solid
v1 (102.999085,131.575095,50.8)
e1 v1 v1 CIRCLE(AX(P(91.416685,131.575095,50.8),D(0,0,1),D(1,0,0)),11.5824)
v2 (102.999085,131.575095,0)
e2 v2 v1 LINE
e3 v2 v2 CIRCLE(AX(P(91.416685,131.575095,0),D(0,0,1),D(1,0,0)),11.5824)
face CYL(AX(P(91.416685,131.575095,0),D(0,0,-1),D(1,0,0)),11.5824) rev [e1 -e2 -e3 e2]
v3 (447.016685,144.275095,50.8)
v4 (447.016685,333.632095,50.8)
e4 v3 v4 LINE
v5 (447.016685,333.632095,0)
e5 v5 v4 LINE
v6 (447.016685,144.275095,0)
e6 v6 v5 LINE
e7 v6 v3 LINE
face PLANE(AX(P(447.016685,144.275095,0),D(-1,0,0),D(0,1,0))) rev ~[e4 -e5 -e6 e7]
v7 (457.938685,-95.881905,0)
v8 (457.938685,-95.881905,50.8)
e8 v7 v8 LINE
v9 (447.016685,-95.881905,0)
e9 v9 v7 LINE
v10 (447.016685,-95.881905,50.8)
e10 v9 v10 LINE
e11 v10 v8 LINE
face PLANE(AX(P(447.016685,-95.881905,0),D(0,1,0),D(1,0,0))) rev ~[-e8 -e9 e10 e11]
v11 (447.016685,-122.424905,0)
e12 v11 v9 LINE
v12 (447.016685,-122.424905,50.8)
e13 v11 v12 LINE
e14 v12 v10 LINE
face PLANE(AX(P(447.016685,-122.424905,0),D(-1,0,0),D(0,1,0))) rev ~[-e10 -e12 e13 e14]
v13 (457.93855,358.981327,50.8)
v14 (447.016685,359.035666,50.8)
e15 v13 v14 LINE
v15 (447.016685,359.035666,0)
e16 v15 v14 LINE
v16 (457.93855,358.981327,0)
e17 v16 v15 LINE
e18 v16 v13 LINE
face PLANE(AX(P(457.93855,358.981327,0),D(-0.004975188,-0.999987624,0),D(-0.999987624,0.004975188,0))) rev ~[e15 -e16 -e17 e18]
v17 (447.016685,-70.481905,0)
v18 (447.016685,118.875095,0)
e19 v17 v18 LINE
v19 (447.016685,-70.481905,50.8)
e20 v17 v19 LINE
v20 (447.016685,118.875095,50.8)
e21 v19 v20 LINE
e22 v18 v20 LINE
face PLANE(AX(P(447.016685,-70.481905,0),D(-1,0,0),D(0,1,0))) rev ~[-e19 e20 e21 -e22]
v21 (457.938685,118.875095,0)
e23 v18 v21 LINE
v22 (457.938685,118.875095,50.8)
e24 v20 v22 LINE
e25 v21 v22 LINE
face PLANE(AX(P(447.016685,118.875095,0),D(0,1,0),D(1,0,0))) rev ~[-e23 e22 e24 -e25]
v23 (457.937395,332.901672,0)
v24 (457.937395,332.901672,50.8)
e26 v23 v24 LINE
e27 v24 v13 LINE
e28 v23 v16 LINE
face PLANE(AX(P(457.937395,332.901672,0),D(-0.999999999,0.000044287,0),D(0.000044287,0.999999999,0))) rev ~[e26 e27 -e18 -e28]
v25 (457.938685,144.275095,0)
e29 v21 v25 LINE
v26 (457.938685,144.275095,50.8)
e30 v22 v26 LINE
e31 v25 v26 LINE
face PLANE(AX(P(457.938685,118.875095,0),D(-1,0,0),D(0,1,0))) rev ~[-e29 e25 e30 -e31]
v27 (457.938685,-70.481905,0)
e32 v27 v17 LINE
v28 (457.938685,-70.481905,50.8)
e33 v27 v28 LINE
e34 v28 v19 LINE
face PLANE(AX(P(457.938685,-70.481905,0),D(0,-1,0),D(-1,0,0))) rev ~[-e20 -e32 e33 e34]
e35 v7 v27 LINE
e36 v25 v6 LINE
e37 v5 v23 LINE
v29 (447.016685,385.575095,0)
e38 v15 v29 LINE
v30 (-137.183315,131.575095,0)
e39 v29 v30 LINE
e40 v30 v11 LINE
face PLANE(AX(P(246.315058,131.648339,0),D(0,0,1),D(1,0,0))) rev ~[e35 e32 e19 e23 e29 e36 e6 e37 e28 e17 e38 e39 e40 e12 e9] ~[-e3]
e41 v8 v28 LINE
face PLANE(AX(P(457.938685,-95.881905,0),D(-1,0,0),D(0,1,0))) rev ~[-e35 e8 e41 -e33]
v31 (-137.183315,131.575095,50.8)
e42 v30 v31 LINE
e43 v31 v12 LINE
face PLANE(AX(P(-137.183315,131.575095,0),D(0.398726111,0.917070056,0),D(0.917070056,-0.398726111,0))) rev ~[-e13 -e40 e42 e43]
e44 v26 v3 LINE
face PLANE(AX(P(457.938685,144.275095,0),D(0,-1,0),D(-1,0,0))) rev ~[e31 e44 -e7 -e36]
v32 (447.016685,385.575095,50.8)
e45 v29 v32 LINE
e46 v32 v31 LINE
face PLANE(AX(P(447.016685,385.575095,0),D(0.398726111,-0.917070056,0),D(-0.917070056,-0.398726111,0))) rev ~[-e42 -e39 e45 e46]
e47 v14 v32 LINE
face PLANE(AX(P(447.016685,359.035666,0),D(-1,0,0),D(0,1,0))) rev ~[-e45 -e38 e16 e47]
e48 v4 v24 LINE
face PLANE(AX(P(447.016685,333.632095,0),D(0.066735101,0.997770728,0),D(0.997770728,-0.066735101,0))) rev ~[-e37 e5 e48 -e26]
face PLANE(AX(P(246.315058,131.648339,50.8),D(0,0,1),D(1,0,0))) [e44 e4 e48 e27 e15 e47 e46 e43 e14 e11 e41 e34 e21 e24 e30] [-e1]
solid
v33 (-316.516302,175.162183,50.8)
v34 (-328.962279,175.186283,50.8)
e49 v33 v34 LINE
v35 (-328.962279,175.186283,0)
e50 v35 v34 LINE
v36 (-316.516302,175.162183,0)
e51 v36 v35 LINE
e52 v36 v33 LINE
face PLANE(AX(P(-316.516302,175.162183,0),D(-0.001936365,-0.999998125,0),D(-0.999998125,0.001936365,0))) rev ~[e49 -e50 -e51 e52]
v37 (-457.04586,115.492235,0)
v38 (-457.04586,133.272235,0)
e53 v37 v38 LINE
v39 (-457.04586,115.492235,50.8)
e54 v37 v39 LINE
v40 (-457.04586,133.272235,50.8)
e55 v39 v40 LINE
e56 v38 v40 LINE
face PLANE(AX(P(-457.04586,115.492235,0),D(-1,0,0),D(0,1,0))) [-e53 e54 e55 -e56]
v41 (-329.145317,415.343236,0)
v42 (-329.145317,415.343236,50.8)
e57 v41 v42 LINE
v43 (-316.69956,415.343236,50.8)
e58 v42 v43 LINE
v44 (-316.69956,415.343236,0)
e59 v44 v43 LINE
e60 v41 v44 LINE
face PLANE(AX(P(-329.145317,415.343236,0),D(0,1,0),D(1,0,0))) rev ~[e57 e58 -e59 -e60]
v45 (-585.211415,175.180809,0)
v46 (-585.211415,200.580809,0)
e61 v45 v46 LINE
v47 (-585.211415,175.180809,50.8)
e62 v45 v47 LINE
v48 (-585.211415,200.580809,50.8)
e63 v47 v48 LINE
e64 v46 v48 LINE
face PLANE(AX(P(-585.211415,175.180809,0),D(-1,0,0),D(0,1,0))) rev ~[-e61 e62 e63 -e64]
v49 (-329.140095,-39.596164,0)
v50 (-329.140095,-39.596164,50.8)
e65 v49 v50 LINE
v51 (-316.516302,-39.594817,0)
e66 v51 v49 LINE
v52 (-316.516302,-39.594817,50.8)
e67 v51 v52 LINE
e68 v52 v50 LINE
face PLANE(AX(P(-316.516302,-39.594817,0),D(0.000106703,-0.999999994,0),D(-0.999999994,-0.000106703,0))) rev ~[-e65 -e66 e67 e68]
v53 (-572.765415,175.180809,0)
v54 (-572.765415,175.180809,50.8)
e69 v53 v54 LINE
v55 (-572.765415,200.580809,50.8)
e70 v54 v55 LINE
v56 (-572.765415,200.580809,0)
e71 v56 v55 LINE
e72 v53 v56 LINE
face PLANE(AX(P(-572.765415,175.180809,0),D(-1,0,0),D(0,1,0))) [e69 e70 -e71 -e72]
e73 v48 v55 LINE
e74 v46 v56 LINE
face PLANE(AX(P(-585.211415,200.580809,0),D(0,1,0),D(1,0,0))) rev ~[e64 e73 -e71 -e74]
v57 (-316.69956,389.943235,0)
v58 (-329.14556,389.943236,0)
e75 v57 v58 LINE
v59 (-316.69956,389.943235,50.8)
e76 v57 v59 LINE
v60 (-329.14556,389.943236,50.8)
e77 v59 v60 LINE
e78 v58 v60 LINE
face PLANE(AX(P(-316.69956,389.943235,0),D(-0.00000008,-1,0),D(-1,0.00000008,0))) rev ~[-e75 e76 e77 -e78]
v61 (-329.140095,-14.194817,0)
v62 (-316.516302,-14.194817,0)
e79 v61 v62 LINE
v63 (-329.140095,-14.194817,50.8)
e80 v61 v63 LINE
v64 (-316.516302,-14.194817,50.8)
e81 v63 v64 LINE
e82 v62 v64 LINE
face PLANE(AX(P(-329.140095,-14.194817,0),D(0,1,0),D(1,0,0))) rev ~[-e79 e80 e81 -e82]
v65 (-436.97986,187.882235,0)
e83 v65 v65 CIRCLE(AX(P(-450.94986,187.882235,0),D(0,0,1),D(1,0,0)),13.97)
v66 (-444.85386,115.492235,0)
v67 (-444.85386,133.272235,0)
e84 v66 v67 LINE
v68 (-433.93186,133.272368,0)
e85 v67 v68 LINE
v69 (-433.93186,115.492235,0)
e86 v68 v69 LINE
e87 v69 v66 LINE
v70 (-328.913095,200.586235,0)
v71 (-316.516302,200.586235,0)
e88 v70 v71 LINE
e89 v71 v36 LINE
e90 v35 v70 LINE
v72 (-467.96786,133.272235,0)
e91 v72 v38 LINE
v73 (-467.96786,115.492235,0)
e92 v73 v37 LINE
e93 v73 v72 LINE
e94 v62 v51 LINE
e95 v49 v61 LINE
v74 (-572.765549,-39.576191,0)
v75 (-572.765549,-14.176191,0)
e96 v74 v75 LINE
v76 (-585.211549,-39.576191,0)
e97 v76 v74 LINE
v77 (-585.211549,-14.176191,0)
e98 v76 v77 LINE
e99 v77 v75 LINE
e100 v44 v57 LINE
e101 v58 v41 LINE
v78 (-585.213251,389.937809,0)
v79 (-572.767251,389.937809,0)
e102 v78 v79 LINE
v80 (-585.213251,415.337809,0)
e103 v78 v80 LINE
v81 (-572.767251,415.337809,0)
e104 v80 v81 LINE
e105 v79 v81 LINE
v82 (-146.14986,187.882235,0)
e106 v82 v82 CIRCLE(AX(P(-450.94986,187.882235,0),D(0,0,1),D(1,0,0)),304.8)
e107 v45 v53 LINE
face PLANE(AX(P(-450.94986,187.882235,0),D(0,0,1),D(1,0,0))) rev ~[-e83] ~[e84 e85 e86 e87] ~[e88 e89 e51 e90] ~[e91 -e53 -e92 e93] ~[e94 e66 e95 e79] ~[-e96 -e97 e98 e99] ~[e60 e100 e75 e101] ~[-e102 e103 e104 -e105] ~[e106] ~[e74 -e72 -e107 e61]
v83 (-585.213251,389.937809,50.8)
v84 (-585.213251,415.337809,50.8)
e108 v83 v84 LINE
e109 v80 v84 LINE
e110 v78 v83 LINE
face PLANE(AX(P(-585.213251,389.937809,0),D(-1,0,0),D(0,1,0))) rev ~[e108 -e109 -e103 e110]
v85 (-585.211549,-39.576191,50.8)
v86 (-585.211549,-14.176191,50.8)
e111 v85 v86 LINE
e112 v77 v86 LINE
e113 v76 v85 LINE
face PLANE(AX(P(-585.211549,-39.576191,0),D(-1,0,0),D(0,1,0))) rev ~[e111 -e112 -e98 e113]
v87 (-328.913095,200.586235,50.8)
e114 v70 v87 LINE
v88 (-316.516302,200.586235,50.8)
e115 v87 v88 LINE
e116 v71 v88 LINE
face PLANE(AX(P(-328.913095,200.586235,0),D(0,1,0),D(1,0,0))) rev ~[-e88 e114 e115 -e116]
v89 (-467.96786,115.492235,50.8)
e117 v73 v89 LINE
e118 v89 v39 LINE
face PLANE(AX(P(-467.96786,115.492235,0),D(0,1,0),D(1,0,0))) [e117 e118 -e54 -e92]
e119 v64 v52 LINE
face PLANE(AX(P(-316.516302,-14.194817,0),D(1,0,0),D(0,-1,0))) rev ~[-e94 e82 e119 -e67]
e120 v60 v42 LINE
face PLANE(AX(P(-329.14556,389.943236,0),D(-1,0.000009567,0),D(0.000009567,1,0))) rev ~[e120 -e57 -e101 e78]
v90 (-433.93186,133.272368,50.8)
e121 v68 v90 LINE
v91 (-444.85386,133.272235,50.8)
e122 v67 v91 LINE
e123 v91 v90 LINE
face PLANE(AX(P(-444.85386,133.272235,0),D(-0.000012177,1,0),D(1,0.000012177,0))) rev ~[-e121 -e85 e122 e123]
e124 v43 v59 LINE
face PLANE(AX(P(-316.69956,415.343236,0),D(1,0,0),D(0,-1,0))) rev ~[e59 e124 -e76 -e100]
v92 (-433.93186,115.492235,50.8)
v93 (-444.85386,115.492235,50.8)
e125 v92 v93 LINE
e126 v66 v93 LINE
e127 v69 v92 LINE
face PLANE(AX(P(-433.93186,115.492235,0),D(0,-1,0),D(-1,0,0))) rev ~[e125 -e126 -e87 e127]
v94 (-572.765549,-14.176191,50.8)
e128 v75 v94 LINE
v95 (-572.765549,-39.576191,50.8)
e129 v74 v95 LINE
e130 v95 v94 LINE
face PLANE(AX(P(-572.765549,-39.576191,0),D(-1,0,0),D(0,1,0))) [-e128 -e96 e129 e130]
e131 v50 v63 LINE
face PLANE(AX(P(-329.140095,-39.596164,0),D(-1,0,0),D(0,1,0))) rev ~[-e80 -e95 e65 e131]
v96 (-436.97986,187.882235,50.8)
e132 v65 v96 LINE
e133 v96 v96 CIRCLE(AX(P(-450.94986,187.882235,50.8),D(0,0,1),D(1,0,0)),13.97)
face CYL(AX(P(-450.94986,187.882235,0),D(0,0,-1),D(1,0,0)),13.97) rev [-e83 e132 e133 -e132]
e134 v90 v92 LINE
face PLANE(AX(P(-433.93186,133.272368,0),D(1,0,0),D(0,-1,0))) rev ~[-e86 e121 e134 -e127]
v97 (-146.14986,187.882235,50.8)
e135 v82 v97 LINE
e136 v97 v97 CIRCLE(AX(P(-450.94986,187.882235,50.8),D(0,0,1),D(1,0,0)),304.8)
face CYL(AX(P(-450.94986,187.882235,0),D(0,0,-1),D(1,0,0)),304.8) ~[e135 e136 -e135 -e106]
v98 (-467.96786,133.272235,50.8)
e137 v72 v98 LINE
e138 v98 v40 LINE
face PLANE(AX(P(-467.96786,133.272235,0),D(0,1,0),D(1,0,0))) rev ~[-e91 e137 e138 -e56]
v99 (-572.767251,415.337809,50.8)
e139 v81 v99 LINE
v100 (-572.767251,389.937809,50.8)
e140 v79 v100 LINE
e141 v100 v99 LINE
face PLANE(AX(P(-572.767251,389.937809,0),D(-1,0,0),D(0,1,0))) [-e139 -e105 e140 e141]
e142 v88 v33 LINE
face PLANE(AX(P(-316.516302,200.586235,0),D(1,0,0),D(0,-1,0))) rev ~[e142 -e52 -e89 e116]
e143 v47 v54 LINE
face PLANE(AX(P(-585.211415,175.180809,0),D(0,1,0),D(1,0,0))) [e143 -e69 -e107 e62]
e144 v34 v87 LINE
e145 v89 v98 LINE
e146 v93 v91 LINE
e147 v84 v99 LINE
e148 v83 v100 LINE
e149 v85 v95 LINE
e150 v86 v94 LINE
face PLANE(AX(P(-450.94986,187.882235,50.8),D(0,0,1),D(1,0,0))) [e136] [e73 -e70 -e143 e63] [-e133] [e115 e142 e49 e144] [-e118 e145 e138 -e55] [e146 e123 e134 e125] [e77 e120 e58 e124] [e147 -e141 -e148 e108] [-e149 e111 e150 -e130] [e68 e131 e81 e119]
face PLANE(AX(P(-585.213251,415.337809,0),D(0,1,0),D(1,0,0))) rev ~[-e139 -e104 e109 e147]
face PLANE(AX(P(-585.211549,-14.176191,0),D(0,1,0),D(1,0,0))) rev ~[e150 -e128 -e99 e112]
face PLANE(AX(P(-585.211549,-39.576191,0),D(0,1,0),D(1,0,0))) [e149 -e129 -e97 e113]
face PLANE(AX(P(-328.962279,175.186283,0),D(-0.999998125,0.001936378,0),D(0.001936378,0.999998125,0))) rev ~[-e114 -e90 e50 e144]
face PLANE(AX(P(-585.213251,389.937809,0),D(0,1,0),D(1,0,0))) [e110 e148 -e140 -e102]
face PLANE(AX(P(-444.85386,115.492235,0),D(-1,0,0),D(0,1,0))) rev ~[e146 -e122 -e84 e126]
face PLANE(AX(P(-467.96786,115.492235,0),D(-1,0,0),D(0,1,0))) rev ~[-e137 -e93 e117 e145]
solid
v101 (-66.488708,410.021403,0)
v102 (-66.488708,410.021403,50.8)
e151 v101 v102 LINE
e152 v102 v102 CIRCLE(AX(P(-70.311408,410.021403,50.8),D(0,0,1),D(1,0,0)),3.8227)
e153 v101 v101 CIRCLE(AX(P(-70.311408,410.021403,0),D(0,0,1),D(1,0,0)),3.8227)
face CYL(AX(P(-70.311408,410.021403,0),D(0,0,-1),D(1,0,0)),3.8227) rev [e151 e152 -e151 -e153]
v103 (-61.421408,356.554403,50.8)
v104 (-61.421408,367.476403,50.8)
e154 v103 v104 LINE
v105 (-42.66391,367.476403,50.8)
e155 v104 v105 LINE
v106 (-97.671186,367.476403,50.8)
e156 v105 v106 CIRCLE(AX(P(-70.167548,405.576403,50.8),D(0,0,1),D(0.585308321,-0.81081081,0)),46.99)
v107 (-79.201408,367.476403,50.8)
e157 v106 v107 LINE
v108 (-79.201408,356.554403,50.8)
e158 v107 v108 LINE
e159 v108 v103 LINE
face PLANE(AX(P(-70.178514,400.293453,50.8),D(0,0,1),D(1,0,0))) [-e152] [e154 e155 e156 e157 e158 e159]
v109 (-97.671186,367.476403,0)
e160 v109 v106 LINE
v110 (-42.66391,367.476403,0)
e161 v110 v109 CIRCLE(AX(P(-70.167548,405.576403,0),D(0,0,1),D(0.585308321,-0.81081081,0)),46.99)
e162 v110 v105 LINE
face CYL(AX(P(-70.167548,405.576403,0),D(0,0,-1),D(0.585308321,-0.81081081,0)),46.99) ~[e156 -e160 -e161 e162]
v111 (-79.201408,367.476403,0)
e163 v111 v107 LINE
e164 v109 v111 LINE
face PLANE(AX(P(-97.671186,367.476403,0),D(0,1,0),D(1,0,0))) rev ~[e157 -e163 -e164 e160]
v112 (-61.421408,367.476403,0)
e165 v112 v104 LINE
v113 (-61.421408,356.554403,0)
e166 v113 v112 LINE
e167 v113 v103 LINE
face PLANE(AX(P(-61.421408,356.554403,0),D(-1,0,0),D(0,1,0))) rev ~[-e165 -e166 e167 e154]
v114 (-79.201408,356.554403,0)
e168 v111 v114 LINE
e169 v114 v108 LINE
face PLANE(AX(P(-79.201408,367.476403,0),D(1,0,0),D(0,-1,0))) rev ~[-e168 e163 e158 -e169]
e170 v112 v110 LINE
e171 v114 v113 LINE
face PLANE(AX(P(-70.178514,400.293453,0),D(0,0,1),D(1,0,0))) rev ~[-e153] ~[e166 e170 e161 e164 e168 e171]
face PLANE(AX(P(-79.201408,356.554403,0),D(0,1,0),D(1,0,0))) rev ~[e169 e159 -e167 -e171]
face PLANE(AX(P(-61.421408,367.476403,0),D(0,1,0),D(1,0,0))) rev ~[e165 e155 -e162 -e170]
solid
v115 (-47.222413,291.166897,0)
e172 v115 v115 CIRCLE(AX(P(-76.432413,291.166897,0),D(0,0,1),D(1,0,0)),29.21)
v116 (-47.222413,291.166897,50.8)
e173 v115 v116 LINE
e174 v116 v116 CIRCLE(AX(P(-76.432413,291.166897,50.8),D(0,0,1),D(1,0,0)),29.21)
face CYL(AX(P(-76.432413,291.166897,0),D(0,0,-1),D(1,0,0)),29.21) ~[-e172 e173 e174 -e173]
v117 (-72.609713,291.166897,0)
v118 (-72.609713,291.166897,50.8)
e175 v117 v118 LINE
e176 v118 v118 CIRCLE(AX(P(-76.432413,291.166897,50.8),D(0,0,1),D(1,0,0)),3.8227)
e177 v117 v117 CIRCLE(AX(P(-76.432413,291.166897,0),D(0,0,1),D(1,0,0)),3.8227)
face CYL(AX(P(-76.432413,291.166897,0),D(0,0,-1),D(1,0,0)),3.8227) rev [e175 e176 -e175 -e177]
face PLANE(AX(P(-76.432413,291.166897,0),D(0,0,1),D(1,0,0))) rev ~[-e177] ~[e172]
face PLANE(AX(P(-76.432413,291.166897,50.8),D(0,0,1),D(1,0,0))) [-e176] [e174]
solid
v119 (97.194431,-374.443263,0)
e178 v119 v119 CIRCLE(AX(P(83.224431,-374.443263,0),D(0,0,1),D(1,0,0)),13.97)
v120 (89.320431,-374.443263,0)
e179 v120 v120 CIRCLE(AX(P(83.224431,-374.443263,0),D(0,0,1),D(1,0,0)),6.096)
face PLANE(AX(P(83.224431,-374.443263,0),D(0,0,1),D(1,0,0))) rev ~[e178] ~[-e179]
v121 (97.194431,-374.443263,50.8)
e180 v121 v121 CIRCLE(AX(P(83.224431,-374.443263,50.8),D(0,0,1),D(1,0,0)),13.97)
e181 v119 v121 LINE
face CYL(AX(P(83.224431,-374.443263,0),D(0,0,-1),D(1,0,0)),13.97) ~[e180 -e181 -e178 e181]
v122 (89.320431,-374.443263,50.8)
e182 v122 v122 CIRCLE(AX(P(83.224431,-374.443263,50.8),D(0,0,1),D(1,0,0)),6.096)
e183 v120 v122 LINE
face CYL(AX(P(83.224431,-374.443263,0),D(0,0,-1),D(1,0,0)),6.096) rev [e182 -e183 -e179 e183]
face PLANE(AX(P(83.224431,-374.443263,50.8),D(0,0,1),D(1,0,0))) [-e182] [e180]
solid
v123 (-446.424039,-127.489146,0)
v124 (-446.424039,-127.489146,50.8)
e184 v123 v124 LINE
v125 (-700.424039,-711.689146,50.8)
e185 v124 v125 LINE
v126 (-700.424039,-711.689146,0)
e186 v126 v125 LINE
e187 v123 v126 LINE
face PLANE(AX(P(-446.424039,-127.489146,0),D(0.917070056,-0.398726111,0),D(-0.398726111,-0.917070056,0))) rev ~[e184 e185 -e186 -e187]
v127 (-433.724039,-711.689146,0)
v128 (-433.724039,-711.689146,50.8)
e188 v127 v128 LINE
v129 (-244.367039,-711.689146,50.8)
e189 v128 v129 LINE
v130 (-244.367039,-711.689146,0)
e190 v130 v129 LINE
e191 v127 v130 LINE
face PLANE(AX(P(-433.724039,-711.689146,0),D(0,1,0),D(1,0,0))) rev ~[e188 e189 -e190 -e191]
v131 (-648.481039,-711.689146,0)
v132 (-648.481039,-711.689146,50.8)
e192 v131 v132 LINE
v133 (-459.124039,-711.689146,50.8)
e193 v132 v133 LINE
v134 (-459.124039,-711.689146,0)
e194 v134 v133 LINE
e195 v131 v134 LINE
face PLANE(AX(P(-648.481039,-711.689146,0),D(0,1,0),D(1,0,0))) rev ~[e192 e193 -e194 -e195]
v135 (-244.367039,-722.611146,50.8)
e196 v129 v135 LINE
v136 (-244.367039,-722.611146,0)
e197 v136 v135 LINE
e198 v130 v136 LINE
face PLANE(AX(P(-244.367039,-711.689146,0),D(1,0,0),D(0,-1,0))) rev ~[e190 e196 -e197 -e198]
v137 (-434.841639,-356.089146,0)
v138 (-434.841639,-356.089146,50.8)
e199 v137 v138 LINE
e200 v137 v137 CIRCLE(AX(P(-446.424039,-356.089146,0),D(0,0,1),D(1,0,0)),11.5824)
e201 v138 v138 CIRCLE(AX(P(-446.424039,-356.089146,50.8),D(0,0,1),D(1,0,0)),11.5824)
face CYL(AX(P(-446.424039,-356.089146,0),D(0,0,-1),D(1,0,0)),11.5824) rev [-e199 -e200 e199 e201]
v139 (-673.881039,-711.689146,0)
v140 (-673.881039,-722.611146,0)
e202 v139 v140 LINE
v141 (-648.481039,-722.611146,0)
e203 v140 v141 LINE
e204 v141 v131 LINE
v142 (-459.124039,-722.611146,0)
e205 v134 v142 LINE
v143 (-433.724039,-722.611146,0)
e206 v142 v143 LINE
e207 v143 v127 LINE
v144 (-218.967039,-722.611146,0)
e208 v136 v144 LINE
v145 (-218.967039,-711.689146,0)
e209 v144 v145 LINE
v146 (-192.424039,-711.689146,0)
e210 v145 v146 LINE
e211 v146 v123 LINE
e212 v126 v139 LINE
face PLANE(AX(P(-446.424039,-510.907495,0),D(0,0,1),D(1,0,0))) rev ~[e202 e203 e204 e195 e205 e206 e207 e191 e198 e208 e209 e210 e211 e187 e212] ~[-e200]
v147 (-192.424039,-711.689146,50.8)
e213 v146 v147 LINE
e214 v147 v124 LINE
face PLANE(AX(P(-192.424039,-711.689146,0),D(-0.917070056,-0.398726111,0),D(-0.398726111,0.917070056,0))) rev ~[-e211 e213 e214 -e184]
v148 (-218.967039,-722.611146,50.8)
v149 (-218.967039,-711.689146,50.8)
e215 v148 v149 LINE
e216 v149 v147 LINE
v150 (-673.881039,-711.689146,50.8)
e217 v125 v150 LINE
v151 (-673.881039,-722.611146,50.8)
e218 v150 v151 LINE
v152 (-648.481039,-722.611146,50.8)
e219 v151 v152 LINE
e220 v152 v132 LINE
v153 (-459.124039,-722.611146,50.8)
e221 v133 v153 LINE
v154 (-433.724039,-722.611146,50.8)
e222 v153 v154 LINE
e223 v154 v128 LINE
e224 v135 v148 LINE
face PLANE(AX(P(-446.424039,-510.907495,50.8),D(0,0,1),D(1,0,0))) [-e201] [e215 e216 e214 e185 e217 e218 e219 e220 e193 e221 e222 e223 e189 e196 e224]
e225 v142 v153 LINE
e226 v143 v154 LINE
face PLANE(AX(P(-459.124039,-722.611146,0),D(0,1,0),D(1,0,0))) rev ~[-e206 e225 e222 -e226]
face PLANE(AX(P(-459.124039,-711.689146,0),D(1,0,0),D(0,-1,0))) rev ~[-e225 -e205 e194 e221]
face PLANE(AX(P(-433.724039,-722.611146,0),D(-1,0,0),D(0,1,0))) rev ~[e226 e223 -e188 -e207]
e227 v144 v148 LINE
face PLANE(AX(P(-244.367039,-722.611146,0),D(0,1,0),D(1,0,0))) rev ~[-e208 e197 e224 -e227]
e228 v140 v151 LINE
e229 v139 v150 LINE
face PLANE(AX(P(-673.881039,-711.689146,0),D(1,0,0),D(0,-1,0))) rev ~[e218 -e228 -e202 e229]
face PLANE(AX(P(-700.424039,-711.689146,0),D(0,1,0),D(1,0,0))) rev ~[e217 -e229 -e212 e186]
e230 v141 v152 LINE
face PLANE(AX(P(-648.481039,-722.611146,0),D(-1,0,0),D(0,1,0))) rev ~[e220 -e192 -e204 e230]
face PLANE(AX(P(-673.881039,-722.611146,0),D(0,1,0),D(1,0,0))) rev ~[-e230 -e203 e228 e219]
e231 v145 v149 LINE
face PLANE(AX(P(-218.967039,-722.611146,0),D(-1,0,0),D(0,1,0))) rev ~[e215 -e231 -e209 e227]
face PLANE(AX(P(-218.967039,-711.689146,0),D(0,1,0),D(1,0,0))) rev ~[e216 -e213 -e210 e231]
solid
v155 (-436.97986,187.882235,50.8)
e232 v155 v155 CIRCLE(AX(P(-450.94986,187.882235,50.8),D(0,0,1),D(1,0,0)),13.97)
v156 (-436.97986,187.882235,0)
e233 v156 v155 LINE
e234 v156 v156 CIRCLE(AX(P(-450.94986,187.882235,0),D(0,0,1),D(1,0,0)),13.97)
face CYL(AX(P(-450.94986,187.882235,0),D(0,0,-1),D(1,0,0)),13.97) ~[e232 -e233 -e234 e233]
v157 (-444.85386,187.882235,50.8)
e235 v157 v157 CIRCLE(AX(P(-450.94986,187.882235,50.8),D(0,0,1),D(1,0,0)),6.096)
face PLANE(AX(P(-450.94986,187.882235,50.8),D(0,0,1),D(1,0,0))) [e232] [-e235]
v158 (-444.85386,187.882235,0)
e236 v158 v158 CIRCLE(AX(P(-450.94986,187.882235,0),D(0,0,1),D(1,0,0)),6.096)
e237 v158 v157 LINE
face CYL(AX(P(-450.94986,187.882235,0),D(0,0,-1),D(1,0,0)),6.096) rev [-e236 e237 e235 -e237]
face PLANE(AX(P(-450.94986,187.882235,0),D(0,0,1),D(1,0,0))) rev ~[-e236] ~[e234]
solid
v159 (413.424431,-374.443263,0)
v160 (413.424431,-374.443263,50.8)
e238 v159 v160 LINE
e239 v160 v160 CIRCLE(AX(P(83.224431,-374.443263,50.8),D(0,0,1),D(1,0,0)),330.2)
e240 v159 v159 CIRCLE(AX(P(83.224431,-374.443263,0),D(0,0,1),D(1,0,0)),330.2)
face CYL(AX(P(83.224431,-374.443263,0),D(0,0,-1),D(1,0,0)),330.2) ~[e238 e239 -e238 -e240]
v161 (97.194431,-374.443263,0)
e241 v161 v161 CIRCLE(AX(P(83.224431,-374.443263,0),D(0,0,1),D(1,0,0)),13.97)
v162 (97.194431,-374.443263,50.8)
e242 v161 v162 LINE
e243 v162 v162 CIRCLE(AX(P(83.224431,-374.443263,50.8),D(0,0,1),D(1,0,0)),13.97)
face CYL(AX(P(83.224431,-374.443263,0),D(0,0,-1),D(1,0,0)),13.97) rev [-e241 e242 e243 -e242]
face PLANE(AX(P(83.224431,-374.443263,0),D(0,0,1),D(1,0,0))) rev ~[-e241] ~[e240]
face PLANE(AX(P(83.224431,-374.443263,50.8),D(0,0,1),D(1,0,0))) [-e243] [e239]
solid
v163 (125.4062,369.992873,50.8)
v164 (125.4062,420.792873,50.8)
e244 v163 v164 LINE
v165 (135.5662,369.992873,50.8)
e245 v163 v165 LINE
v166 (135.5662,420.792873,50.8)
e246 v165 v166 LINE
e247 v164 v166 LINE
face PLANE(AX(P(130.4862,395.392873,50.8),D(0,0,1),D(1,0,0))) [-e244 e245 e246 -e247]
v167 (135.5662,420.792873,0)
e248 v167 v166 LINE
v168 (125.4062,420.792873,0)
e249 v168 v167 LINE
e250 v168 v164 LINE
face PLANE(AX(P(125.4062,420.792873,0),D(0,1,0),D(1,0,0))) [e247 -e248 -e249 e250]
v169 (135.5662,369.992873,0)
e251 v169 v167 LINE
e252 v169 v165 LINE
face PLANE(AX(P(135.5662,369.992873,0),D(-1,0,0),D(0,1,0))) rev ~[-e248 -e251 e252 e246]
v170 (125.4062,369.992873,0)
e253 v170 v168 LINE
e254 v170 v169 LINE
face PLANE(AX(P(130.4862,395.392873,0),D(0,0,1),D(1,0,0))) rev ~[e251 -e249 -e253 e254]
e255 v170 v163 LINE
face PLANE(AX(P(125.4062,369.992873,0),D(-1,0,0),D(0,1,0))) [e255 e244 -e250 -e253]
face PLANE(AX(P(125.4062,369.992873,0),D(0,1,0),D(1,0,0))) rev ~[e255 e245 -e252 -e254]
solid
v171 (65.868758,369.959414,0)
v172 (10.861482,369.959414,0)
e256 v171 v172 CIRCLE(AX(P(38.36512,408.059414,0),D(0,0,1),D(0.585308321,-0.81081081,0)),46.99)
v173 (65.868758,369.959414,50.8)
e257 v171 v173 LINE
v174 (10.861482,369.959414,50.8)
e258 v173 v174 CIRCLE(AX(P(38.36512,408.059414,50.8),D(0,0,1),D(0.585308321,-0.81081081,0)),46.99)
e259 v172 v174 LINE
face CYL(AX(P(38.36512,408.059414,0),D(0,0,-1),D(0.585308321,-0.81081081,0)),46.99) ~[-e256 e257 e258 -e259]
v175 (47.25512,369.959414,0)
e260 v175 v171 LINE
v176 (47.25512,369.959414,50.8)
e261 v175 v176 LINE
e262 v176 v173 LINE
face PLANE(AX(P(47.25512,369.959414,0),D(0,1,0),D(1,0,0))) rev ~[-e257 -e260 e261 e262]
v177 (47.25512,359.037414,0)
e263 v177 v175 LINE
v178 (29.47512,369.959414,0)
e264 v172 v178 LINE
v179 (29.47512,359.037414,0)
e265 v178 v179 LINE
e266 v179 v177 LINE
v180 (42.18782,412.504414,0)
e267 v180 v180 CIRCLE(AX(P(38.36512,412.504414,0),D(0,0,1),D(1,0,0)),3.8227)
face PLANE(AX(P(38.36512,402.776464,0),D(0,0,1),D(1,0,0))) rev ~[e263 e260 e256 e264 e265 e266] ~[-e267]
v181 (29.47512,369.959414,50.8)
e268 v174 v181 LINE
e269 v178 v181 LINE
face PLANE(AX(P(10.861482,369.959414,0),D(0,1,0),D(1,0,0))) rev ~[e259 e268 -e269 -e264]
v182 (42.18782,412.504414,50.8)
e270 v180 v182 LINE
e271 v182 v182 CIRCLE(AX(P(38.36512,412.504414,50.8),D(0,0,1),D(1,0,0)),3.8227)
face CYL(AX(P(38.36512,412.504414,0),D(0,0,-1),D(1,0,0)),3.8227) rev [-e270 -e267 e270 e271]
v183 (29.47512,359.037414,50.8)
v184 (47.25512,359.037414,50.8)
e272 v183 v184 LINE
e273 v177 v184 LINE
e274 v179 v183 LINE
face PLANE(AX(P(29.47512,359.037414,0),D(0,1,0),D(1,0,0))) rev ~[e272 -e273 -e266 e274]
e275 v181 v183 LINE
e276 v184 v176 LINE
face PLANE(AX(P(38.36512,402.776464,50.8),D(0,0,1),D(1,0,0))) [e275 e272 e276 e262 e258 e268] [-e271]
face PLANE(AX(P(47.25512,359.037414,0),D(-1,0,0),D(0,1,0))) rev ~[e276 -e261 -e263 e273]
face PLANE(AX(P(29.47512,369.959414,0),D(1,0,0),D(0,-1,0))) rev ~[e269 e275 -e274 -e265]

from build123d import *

# Parameters (mm, degrees)
F0_R     = 11.5824
F0_R_2   = 29.21
F0_R_3   = 3.8227
F0_W     = 10.16
F0_H     = 50.8
F0_R_4   = 13.97
F0_R_5   = 6.096
F1_DEPTH = 50.8
F0_R_6   = 304.8
F0_W_2   = 12.446
F0_H_2   = 25.4
F0_W_3   = 10.922
F0_H_3   = 17.78
F0_R_7   = 330.2
F2_DEPTH = 50.8


with BuildPart() as f1:
    # F0 (on Top) → F1 (new body)
    with BuildSketch(Plane.XY):
        Polygon((-137.183315, 131.575095), (447.016685, -122.424905), (447.016685, -95.881905), (457.938685, -95.881905), (457.938685, -70.481905), (447.016685, -70.481905), (447.016685, 111.026304), (447.016685, 118.875095), (457.938685, 118.875095), (457.938685, 144.275095), (447.016685, 144.275095), (447.016685, 333.632095), (457.937395, 332.901672), (457.93855, 358.981327), (447.016685, 359.035666), (447.016685, 385.575095), align=None)
        with Locations((91.416685, 131.575095)):
            Circle(F0_R, mode=Mode.SUBTRACT)
        with Locations((-76.432413, 291.166897)):
            Circle(F0_R_2)
        with Locations((-76.432413, 291.166897)):
            Circle(F0_R_3, mode=Mode.SUBTRACT)
        with BuildLine():
            Line((-61.421408, 367.476403), (-42.66391, 367.476403))
            ThreePointArc((-42.66391, 367.476403), (-70.167548, 452.566403), (-97.671186, 367.476403))
            Line((-97.671186, 367.476403), (-79.201408, 367.476403))
            Line((-79.201408, 367.476403), (-79.201408, 356.554403))
            Line((-79.201408, 356.554403), (-61.421408, 356.554403))
            Line((-61.421408, 356.554403), (-61.421408, 367.476403))
        make_face()
        with Locations((-70.311408, 410.021403)):
            Circle(F0_R_3, mode=Mode.SUBTRACT)
        with BuildLine():
            Line((47.25512, 369.959414), (65.868758, 369.959414))
            ThreePointArc((65.868758, 369.959414), (38.36512, 455.049414), (10.861482, 369.959414))
            Line((10.861482, 369.959414), (29.47512, 369.959414))
            Line((29.47512, 369.959414), (29.47512, 359.037414))
            Line((29.47512, 359.037414), (47.25512, 359.037414))
            Line((47.25512, 359.037414), (47.25512, 369.959414))
        make_face()
        with Locations((38.36512, 412.504414)):
            Circle(F0_R_3, mode=Mode.SUBTRACT)
        with Locations((130.4862, 395.392873)):
            Rectangle(F0_W, F0_H)
        Polygon((-446.424039, -127.489146), (-700.424039, -711.689146), (-673.881039, -711.689146), (-673.881039, -722.611146), (-648.481039, -722.611146), (-648.481039, -711.689146), (-459.124039, -711.689146), (-459.124039, -722.611146), (-433.724039, -722.611146), (-433.724039, -711.689146), (-244.367039, -711.689146), (-244.367039, -722.611146), (-218.967039, -722.611146), (-218.967039, -711.689146), (-192.424039, -711.689146), align=None)
        with Locations((-446.424039, -356.089146)):
            Circle(F0_R, mode=Mode.SUBTRACT)
        with Locations((-450.94986, 187.882235)):
            Circle(F0_R_4)
        with Locations((-450.94986, 187.882235)):
            Circle(F0_R_5, mode=Mode.SUBTRACT)
        with Locations((83.224431, -374.443263)):
            Circle(F0_R_4)
        with Locations((83.224431, -374.443263)):
            Circle(F0_R_5, mode=Mode.SUBTRACT)
    extrude(amount=F1_DEPTH)


with BuildPart() as f2:
    # F0 (on Top) → F2 (new body)
    with BuildSketch(Plane.XY):
        with Locations((-450.94986, 187.882235)):
            Circle(F0_R_6)
        with Locations((-578.988549, -26.876191)):
            Rectangle(F0_W_2, F0_H_2, mode=Mode.SUBTRACT)
        with Locations((-578.988415, 187.880809)):
            Rectangle(F0_W_2, F0_H_2, mode=Mode.SUBTRACT)
        with Locations((-462.50686, 124.382235)):
            Rectangle(F0_W_3, F0_H_3, mode=Mode.SUBTRACT)
        Polygon((-329.140095, -39.596164), (-329.140095, -14.194817), (-316.516302, -14.194817), (-316.516302, -39.594817), align=None, mode=Mode.SUBTRACT)
        Polygon((-444.85386, 115.492235), (-444.85386, 133.272235), (-433.93186, 133.272368), (-433.93186, 115.492235), align=None, mode=Mode.SUBTRACT)
        with Locations((-450.94986, 187.882235)):
            Circle(F0_R_4, mode=Mode.SUBTRACT)
        Polygon((-316.516302, 175.162183), (-328.962279, 175.186283), (-328.913095, 200.586235), (-316.516302, 200.586235), align=None, mode=Mode.SUBTRACT)
        with Locations((-578.990251, 402.637809)):
            Rectangle(F0_W_2, F0_H_2, mode=Mode.SUBTRACT)
        Polygon((-316.69956, 389.943235), (-329.14556, 389.943236), (-329.145317, 415.343236), (-316.69956, 415.343236), align=None, mode=Mode.SUBTRACT)
        with Locations((83.224431, -374.443263)):
            Circle(F0_R_7)
        with Locations((83.224431, -374.443263)):
            Circle(F0_R_4, mode=Mode.SUBTRACT)
    extrude(amount=F2_DEPTH)


solid = Compound([f1.part, f2.part])
